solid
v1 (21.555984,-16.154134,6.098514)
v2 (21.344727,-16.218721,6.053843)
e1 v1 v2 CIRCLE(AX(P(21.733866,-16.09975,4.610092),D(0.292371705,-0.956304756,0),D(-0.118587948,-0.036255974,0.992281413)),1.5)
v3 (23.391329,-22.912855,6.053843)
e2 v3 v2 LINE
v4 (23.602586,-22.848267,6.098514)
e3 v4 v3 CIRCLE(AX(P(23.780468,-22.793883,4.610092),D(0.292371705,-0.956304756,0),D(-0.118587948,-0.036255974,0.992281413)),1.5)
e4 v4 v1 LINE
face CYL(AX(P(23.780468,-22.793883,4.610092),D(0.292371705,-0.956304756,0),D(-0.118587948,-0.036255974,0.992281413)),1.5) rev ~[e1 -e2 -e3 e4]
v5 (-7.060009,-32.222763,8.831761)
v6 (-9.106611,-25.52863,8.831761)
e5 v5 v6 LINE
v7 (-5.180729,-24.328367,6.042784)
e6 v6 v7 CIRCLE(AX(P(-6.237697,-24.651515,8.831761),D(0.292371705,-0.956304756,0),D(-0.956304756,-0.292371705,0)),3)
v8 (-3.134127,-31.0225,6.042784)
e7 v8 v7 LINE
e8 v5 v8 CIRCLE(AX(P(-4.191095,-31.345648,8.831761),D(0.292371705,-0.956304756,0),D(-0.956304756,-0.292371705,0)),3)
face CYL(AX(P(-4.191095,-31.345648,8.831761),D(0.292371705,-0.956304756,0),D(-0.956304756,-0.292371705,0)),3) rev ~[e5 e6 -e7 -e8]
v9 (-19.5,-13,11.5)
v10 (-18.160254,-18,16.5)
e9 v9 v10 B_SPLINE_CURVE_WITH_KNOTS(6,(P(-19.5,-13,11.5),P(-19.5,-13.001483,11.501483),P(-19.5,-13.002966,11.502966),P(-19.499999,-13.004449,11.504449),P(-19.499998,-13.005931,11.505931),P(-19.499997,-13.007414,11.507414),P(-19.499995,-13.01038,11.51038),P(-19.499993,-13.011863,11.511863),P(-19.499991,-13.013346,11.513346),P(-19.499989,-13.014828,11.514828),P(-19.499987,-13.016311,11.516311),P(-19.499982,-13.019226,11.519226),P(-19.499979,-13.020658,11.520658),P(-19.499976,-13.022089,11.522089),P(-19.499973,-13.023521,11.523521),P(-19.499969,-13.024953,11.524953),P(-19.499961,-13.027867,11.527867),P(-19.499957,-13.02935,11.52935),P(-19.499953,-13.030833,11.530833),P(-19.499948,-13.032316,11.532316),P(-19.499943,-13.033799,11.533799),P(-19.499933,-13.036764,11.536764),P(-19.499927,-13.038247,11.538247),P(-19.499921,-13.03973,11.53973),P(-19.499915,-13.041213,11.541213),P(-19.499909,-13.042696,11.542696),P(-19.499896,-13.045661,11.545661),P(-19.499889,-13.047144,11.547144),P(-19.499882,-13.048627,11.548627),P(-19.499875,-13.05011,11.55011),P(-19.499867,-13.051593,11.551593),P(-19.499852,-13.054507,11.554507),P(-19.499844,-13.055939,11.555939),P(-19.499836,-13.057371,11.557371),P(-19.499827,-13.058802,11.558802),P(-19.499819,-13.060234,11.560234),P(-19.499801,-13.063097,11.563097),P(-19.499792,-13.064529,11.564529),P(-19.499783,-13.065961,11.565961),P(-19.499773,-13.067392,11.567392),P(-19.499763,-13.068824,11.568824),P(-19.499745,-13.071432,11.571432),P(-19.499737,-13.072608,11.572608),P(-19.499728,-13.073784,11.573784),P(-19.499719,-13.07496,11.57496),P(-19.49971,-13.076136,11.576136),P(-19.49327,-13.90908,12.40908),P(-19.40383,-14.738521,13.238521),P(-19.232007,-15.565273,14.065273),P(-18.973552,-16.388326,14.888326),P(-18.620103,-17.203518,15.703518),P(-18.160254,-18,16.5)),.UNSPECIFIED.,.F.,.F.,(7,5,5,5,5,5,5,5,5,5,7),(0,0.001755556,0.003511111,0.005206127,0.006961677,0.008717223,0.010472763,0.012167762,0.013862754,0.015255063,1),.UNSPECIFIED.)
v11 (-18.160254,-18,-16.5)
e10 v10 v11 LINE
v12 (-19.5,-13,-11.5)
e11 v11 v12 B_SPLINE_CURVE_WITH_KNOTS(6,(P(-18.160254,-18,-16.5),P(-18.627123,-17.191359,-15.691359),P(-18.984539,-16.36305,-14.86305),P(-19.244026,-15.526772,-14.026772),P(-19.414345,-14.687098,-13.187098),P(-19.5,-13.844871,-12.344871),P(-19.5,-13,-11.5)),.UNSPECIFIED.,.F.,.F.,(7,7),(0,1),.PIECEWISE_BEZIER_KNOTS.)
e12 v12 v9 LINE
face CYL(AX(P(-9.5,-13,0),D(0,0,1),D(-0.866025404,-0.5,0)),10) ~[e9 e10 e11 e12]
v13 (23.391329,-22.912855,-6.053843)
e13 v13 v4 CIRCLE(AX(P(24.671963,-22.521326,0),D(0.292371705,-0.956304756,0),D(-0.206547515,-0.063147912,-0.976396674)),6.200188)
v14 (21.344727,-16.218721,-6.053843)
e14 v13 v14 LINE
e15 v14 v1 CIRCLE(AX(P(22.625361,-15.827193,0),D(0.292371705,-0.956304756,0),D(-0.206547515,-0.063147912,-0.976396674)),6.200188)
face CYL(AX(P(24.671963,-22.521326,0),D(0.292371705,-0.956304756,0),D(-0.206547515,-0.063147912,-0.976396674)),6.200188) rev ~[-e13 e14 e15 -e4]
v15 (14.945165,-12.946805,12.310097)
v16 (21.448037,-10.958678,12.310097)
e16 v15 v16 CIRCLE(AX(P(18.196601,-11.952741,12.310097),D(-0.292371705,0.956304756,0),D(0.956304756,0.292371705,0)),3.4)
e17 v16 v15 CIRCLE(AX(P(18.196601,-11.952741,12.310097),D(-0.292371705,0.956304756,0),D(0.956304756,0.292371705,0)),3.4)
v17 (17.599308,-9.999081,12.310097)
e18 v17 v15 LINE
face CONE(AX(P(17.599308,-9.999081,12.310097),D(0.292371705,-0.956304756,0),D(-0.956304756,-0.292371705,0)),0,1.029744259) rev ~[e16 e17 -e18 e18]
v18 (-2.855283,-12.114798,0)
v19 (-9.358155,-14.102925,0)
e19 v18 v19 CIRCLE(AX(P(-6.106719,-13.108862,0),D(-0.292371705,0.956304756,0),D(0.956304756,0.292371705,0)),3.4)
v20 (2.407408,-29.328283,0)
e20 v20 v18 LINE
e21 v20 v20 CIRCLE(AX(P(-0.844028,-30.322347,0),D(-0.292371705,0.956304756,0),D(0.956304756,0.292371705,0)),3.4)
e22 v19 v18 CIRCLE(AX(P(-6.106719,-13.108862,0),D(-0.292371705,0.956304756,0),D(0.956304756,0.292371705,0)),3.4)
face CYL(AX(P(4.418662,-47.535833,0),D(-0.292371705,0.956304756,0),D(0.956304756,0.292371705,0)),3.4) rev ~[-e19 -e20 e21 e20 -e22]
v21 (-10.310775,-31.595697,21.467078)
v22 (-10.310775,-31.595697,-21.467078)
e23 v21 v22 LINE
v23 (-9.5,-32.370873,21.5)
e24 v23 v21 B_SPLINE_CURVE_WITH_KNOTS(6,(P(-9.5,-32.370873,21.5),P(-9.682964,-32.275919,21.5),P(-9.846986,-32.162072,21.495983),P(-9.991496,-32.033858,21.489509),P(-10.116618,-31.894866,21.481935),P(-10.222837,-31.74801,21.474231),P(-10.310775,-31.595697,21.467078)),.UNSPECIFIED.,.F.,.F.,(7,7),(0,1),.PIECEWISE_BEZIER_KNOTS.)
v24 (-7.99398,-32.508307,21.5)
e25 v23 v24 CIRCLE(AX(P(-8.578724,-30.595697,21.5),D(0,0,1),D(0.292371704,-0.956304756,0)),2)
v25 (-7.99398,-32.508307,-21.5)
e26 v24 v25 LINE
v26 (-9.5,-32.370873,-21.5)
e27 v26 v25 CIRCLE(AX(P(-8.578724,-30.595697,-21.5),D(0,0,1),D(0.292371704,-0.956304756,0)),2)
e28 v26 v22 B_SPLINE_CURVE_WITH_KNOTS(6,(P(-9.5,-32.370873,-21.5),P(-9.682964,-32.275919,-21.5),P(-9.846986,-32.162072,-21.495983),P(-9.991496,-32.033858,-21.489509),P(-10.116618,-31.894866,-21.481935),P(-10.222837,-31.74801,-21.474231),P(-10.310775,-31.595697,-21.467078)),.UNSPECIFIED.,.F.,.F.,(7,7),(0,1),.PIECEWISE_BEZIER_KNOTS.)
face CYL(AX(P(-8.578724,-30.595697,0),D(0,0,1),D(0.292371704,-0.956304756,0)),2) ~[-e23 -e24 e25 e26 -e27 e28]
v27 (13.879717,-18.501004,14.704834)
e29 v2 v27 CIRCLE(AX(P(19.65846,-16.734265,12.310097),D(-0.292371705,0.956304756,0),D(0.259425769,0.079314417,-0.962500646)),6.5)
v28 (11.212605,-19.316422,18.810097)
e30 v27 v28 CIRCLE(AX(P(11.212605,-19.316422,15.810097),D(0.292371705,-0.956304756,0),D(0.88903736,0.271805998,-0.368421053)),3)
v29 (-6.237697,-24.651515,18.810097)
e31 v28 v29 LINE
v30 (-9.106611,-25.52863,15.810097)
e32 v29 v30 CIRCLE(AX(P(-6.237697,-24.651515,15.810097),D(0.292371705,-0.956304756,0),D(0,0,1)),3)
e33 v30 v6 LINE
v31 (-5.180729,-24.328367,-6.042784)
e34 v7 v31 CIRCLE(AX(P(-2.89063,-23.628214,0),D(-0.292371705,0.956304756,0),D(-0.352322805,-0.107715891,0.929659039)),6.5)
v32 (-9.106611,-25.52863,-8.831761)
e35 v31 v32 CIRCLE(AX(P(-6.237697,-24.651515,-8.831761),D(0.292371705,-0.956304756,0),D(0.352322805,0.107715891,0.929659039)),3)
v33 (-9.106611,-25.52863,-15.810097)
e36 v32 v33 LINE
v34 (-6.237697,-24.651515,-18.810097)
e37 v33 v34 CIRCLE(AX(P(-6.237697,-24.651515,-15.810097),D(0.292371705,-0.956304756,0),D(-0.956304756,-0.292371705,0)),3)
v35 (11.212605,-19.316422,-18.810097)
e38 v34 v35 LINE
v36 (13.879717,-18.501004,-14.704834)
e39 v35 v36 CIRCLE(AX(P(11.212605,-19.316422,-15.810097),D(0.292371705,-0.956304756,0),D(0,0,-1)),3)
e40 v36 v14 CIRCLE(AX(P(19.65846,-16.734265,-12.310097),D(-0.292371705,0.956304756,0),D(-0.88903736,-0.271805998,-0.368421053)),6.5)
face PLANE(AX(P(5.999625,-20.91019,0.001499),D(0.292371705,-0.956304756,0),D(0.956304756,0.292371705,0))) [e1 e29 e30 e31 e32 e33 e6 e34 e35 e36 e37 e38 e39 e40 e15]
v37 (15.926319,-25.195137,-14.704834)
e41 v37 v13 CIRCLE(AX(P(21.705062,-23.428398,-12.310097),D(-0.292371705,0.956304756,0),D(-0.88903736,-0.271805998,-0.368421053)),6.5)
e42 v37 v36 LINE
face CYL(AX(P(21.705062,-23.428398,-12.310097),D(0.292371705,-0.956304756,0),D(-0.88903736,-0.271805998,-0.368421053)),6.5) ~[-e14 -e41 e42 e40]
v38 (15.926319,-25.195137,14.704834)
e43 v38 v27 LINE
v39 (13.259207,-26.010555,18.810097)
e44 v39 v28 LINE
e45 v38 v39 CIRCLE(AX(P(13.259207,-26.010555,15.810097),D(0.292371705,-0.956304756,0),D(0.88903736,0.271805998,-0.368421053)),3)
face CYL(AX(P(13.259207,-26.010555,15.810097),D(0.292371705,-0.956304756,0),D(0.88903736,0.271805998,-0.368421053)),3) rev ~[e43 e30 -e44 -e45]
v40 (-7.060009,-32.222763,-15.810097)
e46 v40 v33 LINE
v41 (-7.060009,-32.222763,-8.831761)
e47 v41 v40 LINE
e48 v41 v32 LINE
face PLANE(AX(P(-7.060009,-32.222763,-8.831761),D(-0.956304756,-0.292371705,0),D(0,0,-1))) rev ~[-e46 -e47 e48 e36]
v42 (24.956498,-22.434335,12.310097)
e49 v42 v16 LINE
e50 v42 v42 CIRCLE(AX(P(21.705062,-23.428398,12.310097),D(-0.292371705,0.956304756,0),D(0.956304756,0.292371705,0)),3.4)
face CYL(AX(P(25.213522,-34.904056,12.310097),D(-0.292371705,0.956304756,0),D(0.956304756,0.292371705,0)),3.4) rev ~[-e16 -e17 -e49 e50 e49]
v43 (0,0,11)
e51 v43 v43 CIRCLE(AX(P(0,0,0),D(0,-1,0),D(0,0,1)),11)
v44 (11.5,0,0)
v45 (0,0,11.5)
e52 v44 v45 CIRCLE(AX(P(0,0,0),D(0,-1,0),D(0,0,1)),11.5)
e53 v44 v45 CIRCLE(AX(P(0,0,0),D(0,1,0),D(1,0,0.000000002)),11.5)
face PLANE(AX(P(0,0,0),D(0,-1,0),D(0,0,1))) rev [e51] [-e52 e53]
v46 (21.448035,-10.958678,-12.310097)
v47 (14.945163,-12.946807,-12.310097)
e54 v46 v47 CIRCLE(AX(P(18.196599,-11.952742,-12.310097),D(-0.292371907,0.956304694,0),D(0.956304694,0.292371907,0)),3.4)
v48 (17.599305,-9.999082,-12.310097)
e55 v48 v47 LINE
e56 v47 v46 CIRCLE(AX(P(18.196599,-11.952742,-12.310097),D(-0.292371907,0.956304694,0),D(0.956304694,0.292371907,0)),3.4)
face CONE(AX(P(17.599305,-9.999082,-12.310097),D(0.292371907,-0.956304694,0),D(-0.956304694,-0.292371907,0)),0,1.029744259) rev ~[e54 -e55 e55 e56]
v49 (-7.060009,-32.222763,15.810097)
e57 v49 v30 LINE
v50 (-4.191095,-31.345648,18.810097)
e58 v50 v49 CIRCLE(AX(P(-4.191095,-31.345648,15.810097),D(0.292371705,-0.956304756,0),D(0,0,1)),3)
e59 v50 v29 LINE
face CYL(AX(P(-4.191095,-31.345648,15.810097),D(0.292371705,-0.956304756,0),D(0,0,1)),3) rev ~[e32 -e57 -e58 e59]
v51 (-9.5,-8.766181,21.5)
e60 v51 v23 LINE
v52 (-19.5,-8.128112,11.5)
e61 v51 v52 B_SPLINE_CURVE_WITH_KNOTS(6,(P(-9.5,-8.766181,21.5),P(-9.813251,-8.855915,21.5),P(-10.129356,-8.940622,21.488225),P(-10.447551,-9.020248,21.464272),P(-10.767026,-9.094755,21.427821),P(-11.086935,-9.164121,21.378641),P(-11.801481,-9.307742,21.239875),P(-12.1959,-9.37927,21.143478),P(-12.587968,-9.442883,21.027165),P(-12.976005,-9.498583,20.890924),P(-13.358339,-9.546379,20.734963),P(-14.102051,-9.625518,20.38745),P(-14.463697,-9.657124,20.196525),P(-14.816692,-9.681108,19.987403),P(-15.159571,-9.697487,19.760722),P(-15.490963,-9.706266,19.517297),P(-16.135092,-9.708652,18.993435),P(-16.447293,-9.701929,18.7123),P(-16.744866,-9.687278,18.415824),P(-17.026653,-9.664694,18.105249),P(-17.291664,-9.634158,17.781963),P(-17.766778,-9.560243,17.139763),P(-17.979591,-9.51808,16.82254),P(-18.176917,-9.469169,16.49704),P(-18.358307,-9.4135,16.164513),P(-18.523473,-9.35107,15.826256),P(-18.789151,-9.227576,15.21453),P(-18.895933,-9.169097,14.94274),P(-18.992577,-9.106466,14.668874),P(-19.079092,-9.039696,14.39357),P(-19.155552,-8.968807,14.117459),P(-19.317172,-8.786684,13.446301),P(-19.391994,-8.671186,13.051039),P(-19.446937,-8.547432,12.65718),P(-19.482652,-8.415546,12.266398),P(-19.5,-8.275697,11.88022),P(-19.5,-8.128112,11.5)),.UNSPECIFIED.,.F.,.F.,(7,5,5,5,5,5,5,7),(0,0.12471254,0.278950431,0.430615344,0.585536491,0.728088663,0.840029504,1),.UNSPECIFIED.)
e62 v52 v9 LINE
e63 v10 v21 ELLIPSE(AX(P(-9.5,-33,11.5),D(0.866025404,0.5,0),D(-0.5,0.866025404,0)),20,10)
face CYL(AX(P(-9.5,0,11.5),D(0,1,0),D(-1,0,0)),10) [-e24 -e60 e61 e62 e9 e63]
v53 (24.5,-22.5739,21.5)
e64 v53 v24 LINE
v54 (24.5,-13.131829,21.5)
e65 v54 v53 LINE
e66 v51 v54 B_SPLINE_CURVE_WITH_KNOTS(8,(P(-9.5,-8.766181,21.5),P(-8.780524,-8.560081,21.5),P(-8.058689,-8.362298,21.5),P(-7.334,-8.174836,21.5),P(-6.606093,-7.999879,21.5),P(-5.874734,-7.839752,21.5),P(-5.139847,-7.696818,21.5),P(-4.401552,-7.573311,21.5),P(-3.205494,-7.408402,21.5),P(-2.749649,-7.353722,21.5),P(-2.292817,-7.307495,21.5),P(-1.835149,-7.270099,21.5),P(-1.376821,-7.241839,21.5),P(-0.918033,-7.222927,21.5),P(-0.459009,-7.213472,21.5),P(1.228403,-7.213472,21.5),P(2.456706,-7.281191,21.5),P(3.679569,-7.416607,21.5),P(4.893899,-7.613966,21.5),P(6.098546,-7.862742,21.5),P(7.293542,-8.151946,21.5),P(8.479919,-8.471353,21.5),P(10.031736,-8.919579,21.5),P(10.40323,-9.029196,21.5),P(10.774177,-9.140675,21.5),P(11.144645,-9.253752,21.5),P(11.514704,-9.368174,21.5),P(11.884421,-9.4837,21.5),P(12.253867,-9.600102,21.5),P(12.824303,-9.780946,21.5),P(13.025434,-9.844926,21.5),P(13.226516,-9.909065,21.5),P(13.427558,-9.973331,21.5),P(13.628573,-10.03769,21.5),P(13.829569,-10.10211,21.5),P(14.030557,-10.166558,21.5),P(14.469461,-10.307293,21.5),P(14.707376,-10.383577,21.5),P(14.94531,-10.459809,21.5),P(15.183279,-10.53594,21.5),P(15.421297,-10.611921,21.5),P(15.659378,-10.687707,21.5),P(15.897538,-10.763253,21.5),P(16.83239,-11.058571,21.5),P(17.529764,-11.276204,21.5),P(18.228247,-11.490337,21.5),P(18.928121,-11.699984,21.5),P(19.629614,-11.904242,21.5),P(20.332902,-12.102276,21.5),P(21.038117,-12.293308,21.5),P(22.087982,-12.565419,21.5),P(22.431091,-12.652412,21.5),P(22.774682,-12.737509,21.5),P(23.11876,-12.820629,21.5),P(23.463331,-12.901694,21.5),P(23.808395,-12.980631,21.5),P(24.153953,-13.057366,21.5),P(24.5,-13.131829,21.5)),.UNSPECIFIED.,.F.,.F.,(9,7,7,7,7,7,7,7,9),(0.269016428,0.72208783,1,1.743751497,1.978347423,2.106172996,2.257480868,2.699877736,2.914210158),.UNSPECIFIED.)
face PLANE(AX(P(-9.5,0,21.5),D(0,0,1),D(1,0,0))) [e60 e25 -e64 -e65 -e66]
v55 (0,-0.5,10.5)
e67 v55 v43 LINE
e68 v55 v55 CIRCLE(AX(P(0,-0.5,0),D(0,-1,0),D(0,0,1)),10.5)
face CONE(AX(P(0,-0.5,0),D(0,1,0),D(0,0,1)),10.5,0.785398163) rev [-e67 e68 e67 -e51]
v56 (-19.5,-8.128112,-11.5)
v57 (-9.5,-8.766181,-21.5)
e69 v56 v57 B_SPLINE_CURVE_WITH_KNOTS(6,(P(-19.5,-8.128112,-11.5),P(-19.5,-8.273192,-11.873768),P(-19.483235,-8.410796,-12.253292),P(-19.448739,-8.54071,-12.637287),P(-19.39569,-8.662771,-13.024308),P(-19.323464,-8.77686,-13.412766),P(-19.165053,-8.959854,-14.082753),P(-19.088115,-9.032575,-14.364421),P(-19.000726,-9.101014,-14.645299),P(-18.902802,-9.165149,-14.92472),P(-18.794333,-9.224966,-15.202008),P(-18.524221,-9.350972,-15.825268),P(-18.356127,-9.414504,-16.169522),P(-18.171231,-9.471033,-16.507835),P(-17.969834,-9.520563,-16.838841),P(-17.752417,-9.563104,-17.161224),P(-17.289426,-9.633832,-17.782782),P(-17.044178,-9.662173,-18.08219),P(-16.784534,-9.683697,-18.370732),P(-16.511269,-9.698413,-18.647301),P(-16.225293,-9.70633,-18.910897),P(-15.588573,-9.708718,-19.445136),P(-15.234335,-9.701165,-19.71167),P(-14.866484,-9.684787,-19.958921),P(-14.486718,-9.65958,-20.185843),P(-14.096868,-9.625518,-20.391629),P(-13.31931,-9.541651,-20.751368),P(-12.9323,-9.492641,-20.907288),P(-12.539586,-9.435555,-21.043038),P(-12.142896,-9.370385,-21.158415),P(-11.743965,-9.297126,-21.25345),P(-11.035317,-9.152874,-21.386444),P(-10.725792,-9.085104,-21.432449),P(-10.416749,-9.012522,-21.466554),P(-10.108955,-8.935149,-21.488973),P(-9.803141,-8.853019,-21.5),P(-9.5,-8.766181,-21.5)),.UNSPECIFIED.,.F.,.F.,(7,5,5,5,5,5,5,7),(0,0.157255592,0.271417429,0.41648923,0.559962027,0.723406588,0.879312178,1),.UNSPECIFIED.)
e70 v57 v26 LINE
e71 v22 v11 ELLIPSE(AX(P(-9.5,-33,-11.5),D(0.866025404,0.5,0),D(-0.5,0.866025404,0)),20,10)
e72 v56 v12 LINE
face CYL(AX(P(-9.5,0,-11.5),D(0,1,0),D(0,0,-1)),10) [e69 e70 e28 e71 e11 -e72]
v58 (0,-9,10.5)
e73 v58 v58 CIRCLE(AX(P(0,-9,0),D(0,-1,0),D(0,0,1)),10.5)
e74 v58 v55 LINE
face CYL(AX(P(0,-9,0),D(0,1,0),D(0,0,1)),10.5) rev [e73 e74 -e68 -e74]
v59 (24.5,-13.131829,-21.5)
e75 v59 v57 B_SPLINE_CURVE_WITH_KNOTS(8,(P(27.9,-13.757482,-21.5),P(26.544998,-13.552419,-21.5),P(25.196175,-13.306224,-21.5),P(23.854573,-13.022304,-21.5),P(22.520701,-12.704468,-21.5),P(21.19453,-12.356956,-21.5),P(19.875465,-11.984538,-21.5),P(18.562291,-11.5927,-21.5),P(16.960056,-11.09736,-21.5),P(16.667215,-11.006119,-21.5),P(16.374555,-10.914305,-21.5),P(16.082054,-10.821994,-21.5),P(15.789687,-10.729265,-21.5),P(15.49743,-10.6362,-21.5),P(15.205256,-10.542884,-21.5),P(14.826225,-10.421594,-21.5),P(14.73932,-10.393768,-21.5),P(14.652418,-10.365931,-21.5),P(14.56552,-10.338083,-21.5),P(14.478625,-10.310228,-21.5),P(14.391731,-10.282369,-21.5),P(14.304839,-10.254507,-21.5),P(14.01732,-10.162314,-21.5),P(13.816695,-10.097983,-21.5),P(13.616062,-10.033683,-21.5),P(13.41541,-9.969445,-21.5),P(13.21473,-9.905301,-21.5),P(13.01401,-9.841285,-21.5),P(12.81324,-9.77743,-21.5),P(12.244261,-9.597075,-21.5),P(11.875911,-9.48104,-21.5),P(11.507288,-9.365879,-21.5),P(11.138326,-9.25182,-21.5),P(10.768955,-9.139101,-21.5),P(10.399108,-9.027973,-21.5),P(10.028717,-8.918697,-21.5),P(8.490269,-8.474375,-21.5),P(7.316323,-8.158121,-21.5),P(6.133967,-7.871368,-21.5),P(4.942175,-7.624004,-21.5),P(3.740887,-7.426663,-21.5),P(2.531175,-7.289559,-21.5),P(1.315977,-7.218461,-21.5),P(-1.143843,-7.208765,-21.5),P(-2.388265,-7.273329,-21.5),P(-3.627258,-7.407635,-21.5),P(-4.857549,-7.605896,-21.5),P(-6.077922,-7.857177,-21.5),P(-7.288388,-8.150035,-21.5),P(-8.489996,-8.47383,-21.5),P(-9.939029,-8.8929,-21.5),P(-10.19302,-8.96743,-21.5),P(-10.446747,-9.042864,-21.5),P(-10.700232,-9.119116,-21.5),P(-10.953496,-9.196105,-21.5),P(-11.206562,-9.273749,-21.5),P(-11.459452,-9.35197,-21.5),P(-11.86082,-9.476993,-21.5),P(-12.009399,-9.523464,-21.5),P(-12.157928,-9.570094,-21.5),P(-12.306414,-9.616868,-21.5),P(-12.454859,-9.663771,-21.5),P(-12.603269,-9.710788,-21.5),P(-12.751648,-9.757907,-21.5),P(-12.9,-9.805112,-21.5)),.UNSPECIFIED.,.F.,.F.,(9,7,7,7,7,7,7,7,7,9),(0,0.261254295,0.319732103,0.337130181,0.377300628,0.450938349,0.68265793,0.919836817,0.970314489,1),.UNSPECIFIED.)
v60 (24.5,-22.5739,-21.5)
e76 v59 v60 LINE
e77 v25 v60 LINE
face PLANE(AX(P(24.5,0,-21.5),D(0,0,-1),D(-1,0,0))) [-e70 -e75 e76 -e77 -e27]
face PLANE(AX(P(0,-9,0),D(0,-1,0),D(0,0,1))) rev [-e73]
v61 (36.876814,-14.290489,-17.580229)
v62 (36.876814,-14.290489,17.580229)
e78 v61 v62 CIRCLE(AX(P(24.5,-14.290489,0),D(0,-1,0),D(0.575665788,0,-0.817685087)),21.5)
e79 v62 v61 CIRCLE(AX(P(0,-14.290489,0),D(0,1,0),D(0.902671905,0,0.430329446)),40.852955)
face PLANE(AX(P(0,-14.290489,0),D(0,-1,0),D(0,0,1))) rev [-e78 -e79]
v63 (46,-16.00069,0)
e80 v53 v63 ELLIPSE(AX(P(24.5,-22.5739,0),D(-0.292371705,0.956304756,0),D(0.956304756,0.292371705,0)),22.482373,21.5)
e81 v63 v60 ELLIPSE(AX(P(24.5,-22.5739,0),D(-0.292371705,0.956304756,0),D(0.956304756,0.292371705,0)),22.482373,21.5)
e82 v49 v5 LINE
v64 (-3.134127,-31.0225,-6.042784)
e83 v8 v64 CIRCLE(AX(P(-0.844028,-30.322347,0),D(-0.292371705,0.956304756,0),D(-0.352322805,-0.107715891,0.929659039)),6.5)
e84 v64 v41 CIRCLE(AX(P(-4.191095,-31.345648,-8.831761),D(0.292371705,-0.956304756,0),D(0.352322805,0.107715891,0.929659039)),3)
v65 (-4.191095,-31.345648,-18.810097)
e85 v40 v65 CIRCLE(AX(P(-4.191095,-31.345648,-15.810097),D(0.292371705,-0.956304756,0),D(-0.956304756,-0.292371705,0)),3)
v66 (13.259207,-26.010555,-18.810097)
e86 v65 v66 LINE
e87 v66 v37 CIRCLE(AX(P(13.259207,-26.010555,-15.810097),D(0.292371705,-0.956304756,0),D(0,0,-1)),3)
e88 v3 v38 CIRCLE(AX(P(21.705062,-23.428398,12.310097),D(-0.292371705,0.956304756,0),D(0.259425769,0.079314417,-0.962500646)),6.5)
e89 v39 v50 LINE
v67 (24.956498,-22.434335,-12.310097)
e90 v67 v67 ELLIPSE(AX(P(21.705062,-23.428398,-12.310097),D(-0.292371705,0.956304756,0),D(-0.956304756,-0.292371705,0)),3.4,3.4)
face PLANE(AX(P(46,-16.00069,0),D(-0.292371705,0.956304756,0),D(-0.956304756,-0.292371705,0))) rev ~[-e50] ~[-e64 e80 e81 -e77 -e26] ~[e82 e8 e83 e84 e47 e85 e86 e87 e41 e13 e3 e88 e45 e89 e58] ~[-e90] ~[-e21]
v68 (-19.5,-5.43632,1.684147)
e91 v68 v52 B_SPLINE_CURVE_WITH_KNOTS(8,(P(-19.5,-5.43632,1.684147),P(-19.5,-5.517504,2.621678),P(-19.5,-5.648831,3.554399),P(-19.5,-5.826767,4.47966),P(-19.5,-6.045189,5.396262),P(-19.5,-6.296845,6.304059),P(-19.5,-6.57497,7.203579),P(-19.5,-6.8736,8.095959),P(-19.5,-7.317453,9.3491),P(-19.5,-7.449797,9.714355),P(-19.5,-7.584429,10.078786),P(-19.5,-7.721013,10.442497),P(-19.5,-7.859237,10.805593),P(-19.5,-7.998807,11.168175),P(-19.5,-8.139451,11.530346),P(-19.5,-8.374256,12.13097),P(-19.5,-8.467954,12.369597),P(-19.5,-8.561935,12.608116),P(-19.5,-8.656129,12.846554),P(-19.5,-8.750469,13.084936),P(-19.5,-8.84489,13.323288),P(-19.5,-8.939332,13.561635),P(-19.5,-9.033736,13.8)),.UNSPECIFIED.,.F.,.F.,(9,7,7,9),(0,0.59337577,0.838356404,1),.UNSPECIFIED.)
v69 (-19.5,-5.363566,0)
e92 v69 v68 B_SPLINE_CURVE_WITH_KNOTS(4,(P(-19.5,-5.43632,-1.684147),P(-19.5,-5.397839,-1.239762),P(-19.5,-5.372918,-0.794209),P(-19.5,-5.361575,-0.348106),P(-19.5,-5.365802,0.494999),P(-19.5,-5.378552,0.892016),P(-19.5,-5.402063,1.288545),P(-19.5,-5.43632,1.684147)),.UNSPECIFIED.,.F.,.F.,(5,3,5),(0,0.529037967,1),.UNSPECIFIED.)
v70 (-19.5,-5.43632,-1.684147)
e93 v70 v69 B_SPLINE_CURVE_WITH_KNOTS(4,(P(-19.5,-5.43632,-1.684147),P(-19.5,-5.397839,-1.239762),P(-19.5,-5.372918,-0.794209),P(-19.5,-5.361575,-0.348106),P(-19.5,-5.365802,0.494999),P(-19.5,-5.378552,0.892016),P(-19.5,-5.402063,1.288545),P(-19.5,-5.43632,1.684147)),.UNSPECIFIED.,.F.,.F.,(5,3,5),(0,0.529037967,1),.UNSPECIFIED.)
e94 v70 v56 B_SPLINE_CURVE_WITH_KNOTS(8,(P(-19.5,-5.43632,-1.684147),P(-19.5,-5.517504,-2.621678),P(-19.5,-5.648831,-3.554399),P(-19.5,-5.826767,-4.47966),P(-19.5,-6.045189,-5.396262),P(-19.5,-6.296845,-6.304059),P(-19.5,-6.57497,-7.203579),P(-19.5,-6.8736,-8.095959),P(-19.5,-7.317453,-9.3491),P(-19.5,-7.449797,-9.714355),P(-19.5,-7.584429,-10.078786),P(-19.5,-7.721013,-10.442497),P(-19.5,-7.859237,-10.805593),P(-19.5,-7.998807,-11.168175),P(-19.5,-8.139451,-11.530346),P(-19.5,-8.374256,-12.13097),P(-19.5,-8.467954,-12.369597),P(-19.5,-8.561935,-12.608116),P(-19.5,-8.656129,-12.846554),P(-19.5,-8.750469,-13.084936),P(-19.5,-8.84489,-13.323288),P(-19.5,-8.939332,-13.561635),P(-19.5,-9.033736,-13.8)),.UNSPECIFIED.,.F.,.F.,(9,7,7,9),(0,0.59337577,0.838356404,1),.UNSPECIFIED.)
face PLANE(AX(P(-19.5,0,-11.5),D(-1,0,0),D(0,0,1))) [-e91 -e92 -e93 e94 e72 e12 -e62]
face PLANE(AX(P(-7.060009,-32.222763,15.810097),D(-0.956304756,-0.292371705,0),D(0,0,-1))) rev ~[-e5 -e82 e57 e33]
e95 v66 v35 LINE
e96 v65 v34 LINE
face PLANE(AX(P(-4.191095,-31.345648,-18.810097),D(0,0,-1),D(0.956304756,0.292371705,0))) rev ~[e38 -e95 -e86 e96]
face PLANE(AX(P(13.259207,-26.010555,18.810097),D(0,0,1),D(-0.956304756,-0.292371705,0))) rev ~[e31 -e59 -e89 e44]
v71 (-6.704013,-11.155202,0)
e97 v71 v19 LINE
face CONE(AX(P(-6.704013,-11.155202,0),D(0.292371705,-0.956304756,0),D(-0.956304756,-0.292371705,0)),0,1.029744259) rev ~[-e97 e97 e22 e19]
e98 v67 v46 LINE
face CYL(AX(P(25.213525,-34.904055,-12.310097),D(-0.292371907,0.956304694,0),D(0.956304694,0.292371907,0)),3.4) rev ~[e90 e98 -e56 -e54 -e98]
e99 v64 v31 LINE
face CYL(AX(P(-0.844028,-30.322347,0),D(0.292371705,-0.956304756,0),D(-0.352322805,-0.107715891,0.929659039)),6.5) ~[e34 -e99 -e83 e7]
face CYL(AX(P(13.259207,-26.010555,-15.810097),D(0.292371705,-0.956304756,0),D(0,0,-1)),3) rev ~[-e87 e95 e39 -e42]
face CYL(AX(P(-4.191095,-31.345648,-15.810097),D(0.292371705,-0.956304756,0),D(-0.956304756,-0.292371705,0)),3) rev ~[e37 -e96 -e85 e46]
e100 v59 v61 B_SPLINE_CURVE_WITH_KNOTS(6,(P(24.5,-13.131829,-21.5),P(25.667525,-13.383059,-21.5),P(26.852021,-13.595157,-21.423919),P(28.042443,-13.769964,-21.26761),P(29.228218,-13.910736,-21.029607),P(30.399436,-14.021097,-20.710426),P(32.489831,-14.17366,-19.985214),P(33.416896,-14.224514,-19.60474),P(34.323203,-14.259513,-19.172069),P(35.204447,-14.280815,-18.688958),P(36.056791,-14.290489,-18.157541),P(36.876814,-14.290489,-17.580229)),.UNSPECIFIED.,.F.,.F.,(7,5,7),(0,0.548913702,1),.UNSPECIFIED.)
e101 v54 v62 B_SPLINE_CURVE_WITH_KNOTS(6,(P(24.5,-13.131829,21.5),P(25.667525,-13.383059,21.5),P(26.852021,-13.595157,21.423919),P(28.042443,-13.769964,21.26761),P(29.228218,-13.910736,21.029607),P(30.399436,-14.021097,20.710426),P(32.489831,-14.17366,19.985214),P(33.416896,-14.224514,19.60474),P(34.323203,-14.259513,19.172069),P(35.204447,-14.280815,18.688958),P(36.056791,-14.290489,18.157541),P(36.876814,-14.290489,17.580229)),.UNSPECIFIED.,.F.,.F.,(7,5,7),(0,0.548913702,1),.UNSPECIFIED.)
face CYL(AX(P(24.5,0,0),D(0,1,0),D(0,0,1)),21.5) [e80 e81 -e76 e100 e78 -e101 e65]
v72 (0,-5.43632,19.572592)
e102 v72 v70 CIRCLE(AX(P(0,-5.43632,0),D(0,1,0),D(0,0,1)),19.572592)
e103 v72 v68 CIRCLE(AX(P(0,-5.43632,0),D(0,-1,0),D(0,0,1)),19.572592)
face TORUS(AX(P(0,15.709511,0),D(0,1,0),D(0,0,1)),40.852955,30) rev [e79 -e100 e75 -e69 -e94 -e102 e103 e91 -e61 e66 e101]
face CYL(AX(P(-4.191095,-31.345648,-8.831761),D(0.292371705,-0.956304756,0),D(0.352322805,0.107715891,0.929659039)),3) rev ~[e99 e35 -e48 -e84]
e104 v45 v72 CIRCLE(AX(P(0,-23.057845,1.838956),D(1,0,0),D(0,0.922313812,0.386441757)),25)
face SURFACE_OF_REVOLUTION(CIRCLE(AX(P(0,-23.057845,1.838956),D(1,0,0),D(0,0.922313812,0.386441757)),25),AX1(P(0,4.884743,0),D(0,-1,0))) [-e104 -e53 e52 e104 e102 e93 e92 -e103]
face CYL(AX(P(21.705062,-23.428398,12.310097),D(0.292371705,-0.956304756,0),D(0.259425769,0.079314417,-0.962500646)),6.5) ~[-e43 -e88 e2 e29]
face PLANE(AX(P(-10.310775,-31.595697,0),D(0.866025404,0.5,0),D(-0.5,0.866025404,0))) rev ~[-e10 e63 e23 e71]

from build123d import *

# Parameters (mm, degrees)
IZIM2_OUTSIDE_W                      = 120.946
IZIM2_OUTSIDE_H                      = 120.946
KES_EKSTR_ZYON1_DEPTH                = 40
IZIM3_OUTSIDE_W                      = 84.664
IZIM3_OUTSIDE_H                      = 54.164
KES_EKSTR_ZYON2_DEPTH                = 30
Y_KSEKLIK_EKSTR_ZYON2_START          = 9
IZIM11_R                             = 10.5
Y_KSEKLIK_EKSTR_ZYON2_DEPTH          = 9
M8X1_25_DI_LI_DELIK1_D               = 6.8
M8X1_25_DI_LI_DELIK1_DEPTH           = 18
M8X1_25_DI_LI_DELIK1_TIP             = 2.042926105
M8X1_25_DI_LI_DELIK2_D               = 6.8
M8X1_25_DI_LI_DELIK2_DEPTH           = 12
M8X1_25_DI_LI_DELIK2_TIP             = 2.042926105
M8X1_25_DI_LI_DELIK2_ON_FACE_2_D     = 6.8
M8X1_25_DI_LI_DELIK2_ON_FACE_2_DEPTH = 12
M8X1_25_DI_LI_DELIK2_ON_FACE_2_TIP   = 2.042926105
KES_EKSTR_ZYON3_DEPTH                = 7


with BuildPart() as part:
    # Çizim1 → Döndür1 (revolve)
    with BuildSketch(Plane.XY, mode=Mode.PRIVATE) as d_nd_r1_sk:
        with BuildLine():
            Line((0, -35), (0, -18))
            Line((0, -18), (8.5, -18))
            Line((8.5, -18), (8.5, -9))
            Line((8.5, -9), (10.5, -9))
            Line((10.5, -9), (10.5, -0.5))
            Line((10.5, -0.5), (11, 0))
            Line((11, 0), (11.5, 0))
            ThreePointArc((11.5, 0), (15.803393463, -2.321536849), (19.572591816, -5.436319733))
            ThreePointArc((19.572591816, -5.436319733), (29.328522406, -11.988638081), (40.852954694, -14.290489038))
            Line((40.852954694, -14.290489038), (46, -14.290489038))
            Line((46, -14.290489038), (46, -35))
            Line((46, -35), (0, -35))
        make_face()
    revolve(d_nd_r1_sk.sketch.rotate(Axis((0, 4.884743134, 0), (0, -1, 0)), 90), axis=Axis((0, 4.884743134, 0), (0, -1, 0)))

    # Çizim2 outside → Kes-Ekstrüzyon1 (cut)
    with BuildSketch(Plane(origin=(0, 0, 0), x_dir=(1, 0, 0), z_dir=(0, 1, 0))):
        Rectangle(IZIM2_OUTSIDE_W, IZIM2_OUTSIDE_H)
        with BuildLine():
            Line((-19.5, 11.5), (-19.5, -11.5))
            ThreePointArc((-19.5, -11.5), (-16.571067812, -18.571067812), (-9.5, -21.5))
            Line((-9.5, -21.5), (24.5, -21.5))
            ThreePointArc((24.5, -21.5), (46, 0), (24.5, 21.5))
            Line((24.5, 21.5), (-9.5, 21.5))
            ThreePointArc((-9.5, 21.5), (-16.571067812, 18.571067812), (-19.5, 11.5))
        make_face(mode=Mode.SUBTRACT)
    extrude(amount=-KES_EKSTR_ZYON1_DEPTH, mode=Mode.SUBTRACT)

    # Çizim3 outside → Kes-Ekstrüzyon2 (cut, symmetric)
    with BuildSketch(Plane.XY):
        with Locations((13.25, -17.5)):
            Rectangle(IZIM3_OUTSIDE_W, IZIM3_OUTSIDE_H)
        with BuildLine():
            Line((-19.5, -13), (-19.5, -5.36356579))
            ThreePointArc((-19.5, -5.36356579), (-15.760740466, -2.292876744), (-11.5, 0))
            Line((-11.5, 0), (11.5, 0))
            ThreePointArc((11.5, 0), (15.803393463, -2.321536849), (19.572591816, -5.436319733))
            ThreePointArc((19.572591816, -5.436319733), (29.328522406, -11.988638081), (40.852954694, -14.290489038))
            Line((40.852954694, -14.290489038), (46, -14.290489038))
            Line((46, -14.290489038), (46, -16.000690448))
            Line((46, -16.000690448), (-7.993980308, -32.508306842))
            ThreePointArc((-7.993980308, -32.508306842), (-9.31172617, -32.456532466), (-10.310774525, -31.59569733))
            Line((-10.310774525, -31.59569733), (-18.160254038, -18))
            ThreePointArc((-18.160254038, -18), (-19.159258263, -15.588190451), (-19.5, -13))
        make_face(mode=Mode.SUBTRACT)
    extrude(amount=KES_EKSTR_ZYON2_DEPTH, both=True, mode=Mode.SUBTRACT)

    # Çizim11 → Yükseklik-Ekstrüzyon2 (add)
    with BuildSketch(Plane(origin=(0, -18, 0), x_dir=(1, 0, 0), z_dir=(0, 1, 0)).offset(Y_KSEKLIK_EKSTR_ZYON2_START)):
        with Locations(Location((0, 0, 0), (0, 0, 270))):
            Circle(IZIM11_R)
    extrude(amount=-Y_KSEKLIK_EKSTR_ZYON2_DEPTH)

    # M8x1.25 Dişli Delik1
    with Locations(Plane(origin=(-0.844028469, -30.322347194, 0), x_dir=(-0.956304755963, -0.292371704723, 0), z_dir=(0.292371704723, -0.956304755963, 0))):
        with Locations((0, 0)):
            Hole(M8X1_25_DI_LI_DELIK1_D / 2, depth=M8X1_25_DI_LI_DELIK1_DEPTH)
            with Locations((0, 0, -(M8X1_25_DI_LI_DELIK1_DEPTH + M8X1_25_DI_LI_DELIK1_TIP / 2))):  # 118° drill point
                Cone(0, M8X1_25_DI_LI_DELIK1_D / 2, M8X1_25_DI_LI_DELIK1_TIP, mode=Mode.SUBTRACT)

    # M8x1.25 Dişli Delik2
    with Locations(Plane(origin=(21.70506177, -23.428398469, 12.310096913), x_dir=(-0.956304755963, -0.292371704723, 0), z_dir=(0.292371704723, -0.956304755963, 0))):
        with Locations((0, 0)):
            Hole(M8X1_25_DI_LI_DELIK2_D / 2, depth=M8X1_25_DI_LI_DELIK2_DEPTH)
            with Locations((0, 0, -(M8X1_25_DI_LI_DELIK2_DEPTH + M8X1_25_DI_LI_DELIK2_TIP / 2))):  # 118° drill point
                Cone(0, M8X1_25_DI_LI_DELIK2_D / 2, M8X1_25_DI_LI_DELIK2_TIP, mode=Mode.SUBTRACT)

    # M8x1.25 Dişli Delik2 on face 2
    with Locations(Plane(origin=(21.70506177, -23.428398469, -12.310096913), x_dir=(-0.956304694265, -0.292371906527, 0), z_dir=(0.292371906527, -0.956304694265, 0))):
        with Locations((0, 0)):
            Hole(M8X1_25_DI_LI_DELIK2_ON_FACE_2_D / 2, depth=M8X1_25_DI_LI_DELIK2_ON_FACE_2_DEPTH)
            with Locations((0, 0, -(M8X1_25_DI_LI_DELIK2_ON_FACE_2_DEPTH + M8X1_25_DI_LI_DELIK2_ON_FACE_2_TIP / 2))):  # 118° drill point
                Cone(0, M8X1_25_DI_LI_DELIK2_ON_FACE_2_D / 2, M8X1_25_DI_LI_DELIK2_ON_FACE_2_TIP, mode=Mode.SUBTRACT)

    # Çizim16 → Kes-Ekstrüzyon3 (cut)
    with BuildSketch(Plane(origin=(8.405872106, -27.494368788, 0), x_dir=(0.956304755963042, 0.2923717047227155, 0), z_dir=(0.29237170472271556, -0.9563047559630421, 0))):
        with BuildLine():
            Line((-16.172544779, -8.831760866), (-16.172544779, -15.810096913))
            ThreePointArc((-16.172544779, -15.810096913), (-15.293865123, -17.931417256), (-13.172544779, -18.810096913))
            Line((-13.172544779, -18.810096913), (5.075092134, -18.810096913))
            ThreePointArc((5.075092134, -18.810096913), (7.556602709, -17.495951373), (7.864069249, -14.704833755))
            ThreePointArc((7.864069249, -14.704833755), (9.081050216, -7.955601822), (15.670169023, -6.053842714))
            ThreePointArc((15.670169023, -6.053842714), (23.208480374, -0.112690383), (15.891078456, 6.098513866))
            ThreePointArc((15.891078456, 6.098513866), (15.779783551, 6.080333222), (15.670169023, 6.053842714))
            ThreePointArc((15.670169023, 6.053842714), (9.081050216, 7.955601822), (7.864069249, 14.704833755))
            ThreePointArc((7.864069249, 14.704833755), (7.556602709, 17.495951374), (5.075092134, 18.810096913))
            Line((5.075092134, 18.810096913), (-13.172544779, 18.810096913))
            ThreePointArc((-13.172544779, 18.810096913), (-15.293865123, 17.931417256), (-16.172544779, 15.810096913))
            Line((-16.172544779, 15.810096913), (-16.172544779, 8.831760866))
            ThreePointArc((-16.172544779, 8.831760866), (-14.85839924, 6.350250291), (-12.067281621, 6.042783751))
            ThreePointArc((-12.067281621, 6.042783751), (-3.172544779, 0), (-12.067281621, -6.042783751))
            ThreePointArc((-12.067281621, -6.042783751), (-14.85839924, -6.350250291), (-16.172544779, -8.831760866))
        make_face()
    extrude(amount=-KES_EKSTR_ZYON3_DEPTH, mode=Mode.SUBTRACT)


solid = part.part
